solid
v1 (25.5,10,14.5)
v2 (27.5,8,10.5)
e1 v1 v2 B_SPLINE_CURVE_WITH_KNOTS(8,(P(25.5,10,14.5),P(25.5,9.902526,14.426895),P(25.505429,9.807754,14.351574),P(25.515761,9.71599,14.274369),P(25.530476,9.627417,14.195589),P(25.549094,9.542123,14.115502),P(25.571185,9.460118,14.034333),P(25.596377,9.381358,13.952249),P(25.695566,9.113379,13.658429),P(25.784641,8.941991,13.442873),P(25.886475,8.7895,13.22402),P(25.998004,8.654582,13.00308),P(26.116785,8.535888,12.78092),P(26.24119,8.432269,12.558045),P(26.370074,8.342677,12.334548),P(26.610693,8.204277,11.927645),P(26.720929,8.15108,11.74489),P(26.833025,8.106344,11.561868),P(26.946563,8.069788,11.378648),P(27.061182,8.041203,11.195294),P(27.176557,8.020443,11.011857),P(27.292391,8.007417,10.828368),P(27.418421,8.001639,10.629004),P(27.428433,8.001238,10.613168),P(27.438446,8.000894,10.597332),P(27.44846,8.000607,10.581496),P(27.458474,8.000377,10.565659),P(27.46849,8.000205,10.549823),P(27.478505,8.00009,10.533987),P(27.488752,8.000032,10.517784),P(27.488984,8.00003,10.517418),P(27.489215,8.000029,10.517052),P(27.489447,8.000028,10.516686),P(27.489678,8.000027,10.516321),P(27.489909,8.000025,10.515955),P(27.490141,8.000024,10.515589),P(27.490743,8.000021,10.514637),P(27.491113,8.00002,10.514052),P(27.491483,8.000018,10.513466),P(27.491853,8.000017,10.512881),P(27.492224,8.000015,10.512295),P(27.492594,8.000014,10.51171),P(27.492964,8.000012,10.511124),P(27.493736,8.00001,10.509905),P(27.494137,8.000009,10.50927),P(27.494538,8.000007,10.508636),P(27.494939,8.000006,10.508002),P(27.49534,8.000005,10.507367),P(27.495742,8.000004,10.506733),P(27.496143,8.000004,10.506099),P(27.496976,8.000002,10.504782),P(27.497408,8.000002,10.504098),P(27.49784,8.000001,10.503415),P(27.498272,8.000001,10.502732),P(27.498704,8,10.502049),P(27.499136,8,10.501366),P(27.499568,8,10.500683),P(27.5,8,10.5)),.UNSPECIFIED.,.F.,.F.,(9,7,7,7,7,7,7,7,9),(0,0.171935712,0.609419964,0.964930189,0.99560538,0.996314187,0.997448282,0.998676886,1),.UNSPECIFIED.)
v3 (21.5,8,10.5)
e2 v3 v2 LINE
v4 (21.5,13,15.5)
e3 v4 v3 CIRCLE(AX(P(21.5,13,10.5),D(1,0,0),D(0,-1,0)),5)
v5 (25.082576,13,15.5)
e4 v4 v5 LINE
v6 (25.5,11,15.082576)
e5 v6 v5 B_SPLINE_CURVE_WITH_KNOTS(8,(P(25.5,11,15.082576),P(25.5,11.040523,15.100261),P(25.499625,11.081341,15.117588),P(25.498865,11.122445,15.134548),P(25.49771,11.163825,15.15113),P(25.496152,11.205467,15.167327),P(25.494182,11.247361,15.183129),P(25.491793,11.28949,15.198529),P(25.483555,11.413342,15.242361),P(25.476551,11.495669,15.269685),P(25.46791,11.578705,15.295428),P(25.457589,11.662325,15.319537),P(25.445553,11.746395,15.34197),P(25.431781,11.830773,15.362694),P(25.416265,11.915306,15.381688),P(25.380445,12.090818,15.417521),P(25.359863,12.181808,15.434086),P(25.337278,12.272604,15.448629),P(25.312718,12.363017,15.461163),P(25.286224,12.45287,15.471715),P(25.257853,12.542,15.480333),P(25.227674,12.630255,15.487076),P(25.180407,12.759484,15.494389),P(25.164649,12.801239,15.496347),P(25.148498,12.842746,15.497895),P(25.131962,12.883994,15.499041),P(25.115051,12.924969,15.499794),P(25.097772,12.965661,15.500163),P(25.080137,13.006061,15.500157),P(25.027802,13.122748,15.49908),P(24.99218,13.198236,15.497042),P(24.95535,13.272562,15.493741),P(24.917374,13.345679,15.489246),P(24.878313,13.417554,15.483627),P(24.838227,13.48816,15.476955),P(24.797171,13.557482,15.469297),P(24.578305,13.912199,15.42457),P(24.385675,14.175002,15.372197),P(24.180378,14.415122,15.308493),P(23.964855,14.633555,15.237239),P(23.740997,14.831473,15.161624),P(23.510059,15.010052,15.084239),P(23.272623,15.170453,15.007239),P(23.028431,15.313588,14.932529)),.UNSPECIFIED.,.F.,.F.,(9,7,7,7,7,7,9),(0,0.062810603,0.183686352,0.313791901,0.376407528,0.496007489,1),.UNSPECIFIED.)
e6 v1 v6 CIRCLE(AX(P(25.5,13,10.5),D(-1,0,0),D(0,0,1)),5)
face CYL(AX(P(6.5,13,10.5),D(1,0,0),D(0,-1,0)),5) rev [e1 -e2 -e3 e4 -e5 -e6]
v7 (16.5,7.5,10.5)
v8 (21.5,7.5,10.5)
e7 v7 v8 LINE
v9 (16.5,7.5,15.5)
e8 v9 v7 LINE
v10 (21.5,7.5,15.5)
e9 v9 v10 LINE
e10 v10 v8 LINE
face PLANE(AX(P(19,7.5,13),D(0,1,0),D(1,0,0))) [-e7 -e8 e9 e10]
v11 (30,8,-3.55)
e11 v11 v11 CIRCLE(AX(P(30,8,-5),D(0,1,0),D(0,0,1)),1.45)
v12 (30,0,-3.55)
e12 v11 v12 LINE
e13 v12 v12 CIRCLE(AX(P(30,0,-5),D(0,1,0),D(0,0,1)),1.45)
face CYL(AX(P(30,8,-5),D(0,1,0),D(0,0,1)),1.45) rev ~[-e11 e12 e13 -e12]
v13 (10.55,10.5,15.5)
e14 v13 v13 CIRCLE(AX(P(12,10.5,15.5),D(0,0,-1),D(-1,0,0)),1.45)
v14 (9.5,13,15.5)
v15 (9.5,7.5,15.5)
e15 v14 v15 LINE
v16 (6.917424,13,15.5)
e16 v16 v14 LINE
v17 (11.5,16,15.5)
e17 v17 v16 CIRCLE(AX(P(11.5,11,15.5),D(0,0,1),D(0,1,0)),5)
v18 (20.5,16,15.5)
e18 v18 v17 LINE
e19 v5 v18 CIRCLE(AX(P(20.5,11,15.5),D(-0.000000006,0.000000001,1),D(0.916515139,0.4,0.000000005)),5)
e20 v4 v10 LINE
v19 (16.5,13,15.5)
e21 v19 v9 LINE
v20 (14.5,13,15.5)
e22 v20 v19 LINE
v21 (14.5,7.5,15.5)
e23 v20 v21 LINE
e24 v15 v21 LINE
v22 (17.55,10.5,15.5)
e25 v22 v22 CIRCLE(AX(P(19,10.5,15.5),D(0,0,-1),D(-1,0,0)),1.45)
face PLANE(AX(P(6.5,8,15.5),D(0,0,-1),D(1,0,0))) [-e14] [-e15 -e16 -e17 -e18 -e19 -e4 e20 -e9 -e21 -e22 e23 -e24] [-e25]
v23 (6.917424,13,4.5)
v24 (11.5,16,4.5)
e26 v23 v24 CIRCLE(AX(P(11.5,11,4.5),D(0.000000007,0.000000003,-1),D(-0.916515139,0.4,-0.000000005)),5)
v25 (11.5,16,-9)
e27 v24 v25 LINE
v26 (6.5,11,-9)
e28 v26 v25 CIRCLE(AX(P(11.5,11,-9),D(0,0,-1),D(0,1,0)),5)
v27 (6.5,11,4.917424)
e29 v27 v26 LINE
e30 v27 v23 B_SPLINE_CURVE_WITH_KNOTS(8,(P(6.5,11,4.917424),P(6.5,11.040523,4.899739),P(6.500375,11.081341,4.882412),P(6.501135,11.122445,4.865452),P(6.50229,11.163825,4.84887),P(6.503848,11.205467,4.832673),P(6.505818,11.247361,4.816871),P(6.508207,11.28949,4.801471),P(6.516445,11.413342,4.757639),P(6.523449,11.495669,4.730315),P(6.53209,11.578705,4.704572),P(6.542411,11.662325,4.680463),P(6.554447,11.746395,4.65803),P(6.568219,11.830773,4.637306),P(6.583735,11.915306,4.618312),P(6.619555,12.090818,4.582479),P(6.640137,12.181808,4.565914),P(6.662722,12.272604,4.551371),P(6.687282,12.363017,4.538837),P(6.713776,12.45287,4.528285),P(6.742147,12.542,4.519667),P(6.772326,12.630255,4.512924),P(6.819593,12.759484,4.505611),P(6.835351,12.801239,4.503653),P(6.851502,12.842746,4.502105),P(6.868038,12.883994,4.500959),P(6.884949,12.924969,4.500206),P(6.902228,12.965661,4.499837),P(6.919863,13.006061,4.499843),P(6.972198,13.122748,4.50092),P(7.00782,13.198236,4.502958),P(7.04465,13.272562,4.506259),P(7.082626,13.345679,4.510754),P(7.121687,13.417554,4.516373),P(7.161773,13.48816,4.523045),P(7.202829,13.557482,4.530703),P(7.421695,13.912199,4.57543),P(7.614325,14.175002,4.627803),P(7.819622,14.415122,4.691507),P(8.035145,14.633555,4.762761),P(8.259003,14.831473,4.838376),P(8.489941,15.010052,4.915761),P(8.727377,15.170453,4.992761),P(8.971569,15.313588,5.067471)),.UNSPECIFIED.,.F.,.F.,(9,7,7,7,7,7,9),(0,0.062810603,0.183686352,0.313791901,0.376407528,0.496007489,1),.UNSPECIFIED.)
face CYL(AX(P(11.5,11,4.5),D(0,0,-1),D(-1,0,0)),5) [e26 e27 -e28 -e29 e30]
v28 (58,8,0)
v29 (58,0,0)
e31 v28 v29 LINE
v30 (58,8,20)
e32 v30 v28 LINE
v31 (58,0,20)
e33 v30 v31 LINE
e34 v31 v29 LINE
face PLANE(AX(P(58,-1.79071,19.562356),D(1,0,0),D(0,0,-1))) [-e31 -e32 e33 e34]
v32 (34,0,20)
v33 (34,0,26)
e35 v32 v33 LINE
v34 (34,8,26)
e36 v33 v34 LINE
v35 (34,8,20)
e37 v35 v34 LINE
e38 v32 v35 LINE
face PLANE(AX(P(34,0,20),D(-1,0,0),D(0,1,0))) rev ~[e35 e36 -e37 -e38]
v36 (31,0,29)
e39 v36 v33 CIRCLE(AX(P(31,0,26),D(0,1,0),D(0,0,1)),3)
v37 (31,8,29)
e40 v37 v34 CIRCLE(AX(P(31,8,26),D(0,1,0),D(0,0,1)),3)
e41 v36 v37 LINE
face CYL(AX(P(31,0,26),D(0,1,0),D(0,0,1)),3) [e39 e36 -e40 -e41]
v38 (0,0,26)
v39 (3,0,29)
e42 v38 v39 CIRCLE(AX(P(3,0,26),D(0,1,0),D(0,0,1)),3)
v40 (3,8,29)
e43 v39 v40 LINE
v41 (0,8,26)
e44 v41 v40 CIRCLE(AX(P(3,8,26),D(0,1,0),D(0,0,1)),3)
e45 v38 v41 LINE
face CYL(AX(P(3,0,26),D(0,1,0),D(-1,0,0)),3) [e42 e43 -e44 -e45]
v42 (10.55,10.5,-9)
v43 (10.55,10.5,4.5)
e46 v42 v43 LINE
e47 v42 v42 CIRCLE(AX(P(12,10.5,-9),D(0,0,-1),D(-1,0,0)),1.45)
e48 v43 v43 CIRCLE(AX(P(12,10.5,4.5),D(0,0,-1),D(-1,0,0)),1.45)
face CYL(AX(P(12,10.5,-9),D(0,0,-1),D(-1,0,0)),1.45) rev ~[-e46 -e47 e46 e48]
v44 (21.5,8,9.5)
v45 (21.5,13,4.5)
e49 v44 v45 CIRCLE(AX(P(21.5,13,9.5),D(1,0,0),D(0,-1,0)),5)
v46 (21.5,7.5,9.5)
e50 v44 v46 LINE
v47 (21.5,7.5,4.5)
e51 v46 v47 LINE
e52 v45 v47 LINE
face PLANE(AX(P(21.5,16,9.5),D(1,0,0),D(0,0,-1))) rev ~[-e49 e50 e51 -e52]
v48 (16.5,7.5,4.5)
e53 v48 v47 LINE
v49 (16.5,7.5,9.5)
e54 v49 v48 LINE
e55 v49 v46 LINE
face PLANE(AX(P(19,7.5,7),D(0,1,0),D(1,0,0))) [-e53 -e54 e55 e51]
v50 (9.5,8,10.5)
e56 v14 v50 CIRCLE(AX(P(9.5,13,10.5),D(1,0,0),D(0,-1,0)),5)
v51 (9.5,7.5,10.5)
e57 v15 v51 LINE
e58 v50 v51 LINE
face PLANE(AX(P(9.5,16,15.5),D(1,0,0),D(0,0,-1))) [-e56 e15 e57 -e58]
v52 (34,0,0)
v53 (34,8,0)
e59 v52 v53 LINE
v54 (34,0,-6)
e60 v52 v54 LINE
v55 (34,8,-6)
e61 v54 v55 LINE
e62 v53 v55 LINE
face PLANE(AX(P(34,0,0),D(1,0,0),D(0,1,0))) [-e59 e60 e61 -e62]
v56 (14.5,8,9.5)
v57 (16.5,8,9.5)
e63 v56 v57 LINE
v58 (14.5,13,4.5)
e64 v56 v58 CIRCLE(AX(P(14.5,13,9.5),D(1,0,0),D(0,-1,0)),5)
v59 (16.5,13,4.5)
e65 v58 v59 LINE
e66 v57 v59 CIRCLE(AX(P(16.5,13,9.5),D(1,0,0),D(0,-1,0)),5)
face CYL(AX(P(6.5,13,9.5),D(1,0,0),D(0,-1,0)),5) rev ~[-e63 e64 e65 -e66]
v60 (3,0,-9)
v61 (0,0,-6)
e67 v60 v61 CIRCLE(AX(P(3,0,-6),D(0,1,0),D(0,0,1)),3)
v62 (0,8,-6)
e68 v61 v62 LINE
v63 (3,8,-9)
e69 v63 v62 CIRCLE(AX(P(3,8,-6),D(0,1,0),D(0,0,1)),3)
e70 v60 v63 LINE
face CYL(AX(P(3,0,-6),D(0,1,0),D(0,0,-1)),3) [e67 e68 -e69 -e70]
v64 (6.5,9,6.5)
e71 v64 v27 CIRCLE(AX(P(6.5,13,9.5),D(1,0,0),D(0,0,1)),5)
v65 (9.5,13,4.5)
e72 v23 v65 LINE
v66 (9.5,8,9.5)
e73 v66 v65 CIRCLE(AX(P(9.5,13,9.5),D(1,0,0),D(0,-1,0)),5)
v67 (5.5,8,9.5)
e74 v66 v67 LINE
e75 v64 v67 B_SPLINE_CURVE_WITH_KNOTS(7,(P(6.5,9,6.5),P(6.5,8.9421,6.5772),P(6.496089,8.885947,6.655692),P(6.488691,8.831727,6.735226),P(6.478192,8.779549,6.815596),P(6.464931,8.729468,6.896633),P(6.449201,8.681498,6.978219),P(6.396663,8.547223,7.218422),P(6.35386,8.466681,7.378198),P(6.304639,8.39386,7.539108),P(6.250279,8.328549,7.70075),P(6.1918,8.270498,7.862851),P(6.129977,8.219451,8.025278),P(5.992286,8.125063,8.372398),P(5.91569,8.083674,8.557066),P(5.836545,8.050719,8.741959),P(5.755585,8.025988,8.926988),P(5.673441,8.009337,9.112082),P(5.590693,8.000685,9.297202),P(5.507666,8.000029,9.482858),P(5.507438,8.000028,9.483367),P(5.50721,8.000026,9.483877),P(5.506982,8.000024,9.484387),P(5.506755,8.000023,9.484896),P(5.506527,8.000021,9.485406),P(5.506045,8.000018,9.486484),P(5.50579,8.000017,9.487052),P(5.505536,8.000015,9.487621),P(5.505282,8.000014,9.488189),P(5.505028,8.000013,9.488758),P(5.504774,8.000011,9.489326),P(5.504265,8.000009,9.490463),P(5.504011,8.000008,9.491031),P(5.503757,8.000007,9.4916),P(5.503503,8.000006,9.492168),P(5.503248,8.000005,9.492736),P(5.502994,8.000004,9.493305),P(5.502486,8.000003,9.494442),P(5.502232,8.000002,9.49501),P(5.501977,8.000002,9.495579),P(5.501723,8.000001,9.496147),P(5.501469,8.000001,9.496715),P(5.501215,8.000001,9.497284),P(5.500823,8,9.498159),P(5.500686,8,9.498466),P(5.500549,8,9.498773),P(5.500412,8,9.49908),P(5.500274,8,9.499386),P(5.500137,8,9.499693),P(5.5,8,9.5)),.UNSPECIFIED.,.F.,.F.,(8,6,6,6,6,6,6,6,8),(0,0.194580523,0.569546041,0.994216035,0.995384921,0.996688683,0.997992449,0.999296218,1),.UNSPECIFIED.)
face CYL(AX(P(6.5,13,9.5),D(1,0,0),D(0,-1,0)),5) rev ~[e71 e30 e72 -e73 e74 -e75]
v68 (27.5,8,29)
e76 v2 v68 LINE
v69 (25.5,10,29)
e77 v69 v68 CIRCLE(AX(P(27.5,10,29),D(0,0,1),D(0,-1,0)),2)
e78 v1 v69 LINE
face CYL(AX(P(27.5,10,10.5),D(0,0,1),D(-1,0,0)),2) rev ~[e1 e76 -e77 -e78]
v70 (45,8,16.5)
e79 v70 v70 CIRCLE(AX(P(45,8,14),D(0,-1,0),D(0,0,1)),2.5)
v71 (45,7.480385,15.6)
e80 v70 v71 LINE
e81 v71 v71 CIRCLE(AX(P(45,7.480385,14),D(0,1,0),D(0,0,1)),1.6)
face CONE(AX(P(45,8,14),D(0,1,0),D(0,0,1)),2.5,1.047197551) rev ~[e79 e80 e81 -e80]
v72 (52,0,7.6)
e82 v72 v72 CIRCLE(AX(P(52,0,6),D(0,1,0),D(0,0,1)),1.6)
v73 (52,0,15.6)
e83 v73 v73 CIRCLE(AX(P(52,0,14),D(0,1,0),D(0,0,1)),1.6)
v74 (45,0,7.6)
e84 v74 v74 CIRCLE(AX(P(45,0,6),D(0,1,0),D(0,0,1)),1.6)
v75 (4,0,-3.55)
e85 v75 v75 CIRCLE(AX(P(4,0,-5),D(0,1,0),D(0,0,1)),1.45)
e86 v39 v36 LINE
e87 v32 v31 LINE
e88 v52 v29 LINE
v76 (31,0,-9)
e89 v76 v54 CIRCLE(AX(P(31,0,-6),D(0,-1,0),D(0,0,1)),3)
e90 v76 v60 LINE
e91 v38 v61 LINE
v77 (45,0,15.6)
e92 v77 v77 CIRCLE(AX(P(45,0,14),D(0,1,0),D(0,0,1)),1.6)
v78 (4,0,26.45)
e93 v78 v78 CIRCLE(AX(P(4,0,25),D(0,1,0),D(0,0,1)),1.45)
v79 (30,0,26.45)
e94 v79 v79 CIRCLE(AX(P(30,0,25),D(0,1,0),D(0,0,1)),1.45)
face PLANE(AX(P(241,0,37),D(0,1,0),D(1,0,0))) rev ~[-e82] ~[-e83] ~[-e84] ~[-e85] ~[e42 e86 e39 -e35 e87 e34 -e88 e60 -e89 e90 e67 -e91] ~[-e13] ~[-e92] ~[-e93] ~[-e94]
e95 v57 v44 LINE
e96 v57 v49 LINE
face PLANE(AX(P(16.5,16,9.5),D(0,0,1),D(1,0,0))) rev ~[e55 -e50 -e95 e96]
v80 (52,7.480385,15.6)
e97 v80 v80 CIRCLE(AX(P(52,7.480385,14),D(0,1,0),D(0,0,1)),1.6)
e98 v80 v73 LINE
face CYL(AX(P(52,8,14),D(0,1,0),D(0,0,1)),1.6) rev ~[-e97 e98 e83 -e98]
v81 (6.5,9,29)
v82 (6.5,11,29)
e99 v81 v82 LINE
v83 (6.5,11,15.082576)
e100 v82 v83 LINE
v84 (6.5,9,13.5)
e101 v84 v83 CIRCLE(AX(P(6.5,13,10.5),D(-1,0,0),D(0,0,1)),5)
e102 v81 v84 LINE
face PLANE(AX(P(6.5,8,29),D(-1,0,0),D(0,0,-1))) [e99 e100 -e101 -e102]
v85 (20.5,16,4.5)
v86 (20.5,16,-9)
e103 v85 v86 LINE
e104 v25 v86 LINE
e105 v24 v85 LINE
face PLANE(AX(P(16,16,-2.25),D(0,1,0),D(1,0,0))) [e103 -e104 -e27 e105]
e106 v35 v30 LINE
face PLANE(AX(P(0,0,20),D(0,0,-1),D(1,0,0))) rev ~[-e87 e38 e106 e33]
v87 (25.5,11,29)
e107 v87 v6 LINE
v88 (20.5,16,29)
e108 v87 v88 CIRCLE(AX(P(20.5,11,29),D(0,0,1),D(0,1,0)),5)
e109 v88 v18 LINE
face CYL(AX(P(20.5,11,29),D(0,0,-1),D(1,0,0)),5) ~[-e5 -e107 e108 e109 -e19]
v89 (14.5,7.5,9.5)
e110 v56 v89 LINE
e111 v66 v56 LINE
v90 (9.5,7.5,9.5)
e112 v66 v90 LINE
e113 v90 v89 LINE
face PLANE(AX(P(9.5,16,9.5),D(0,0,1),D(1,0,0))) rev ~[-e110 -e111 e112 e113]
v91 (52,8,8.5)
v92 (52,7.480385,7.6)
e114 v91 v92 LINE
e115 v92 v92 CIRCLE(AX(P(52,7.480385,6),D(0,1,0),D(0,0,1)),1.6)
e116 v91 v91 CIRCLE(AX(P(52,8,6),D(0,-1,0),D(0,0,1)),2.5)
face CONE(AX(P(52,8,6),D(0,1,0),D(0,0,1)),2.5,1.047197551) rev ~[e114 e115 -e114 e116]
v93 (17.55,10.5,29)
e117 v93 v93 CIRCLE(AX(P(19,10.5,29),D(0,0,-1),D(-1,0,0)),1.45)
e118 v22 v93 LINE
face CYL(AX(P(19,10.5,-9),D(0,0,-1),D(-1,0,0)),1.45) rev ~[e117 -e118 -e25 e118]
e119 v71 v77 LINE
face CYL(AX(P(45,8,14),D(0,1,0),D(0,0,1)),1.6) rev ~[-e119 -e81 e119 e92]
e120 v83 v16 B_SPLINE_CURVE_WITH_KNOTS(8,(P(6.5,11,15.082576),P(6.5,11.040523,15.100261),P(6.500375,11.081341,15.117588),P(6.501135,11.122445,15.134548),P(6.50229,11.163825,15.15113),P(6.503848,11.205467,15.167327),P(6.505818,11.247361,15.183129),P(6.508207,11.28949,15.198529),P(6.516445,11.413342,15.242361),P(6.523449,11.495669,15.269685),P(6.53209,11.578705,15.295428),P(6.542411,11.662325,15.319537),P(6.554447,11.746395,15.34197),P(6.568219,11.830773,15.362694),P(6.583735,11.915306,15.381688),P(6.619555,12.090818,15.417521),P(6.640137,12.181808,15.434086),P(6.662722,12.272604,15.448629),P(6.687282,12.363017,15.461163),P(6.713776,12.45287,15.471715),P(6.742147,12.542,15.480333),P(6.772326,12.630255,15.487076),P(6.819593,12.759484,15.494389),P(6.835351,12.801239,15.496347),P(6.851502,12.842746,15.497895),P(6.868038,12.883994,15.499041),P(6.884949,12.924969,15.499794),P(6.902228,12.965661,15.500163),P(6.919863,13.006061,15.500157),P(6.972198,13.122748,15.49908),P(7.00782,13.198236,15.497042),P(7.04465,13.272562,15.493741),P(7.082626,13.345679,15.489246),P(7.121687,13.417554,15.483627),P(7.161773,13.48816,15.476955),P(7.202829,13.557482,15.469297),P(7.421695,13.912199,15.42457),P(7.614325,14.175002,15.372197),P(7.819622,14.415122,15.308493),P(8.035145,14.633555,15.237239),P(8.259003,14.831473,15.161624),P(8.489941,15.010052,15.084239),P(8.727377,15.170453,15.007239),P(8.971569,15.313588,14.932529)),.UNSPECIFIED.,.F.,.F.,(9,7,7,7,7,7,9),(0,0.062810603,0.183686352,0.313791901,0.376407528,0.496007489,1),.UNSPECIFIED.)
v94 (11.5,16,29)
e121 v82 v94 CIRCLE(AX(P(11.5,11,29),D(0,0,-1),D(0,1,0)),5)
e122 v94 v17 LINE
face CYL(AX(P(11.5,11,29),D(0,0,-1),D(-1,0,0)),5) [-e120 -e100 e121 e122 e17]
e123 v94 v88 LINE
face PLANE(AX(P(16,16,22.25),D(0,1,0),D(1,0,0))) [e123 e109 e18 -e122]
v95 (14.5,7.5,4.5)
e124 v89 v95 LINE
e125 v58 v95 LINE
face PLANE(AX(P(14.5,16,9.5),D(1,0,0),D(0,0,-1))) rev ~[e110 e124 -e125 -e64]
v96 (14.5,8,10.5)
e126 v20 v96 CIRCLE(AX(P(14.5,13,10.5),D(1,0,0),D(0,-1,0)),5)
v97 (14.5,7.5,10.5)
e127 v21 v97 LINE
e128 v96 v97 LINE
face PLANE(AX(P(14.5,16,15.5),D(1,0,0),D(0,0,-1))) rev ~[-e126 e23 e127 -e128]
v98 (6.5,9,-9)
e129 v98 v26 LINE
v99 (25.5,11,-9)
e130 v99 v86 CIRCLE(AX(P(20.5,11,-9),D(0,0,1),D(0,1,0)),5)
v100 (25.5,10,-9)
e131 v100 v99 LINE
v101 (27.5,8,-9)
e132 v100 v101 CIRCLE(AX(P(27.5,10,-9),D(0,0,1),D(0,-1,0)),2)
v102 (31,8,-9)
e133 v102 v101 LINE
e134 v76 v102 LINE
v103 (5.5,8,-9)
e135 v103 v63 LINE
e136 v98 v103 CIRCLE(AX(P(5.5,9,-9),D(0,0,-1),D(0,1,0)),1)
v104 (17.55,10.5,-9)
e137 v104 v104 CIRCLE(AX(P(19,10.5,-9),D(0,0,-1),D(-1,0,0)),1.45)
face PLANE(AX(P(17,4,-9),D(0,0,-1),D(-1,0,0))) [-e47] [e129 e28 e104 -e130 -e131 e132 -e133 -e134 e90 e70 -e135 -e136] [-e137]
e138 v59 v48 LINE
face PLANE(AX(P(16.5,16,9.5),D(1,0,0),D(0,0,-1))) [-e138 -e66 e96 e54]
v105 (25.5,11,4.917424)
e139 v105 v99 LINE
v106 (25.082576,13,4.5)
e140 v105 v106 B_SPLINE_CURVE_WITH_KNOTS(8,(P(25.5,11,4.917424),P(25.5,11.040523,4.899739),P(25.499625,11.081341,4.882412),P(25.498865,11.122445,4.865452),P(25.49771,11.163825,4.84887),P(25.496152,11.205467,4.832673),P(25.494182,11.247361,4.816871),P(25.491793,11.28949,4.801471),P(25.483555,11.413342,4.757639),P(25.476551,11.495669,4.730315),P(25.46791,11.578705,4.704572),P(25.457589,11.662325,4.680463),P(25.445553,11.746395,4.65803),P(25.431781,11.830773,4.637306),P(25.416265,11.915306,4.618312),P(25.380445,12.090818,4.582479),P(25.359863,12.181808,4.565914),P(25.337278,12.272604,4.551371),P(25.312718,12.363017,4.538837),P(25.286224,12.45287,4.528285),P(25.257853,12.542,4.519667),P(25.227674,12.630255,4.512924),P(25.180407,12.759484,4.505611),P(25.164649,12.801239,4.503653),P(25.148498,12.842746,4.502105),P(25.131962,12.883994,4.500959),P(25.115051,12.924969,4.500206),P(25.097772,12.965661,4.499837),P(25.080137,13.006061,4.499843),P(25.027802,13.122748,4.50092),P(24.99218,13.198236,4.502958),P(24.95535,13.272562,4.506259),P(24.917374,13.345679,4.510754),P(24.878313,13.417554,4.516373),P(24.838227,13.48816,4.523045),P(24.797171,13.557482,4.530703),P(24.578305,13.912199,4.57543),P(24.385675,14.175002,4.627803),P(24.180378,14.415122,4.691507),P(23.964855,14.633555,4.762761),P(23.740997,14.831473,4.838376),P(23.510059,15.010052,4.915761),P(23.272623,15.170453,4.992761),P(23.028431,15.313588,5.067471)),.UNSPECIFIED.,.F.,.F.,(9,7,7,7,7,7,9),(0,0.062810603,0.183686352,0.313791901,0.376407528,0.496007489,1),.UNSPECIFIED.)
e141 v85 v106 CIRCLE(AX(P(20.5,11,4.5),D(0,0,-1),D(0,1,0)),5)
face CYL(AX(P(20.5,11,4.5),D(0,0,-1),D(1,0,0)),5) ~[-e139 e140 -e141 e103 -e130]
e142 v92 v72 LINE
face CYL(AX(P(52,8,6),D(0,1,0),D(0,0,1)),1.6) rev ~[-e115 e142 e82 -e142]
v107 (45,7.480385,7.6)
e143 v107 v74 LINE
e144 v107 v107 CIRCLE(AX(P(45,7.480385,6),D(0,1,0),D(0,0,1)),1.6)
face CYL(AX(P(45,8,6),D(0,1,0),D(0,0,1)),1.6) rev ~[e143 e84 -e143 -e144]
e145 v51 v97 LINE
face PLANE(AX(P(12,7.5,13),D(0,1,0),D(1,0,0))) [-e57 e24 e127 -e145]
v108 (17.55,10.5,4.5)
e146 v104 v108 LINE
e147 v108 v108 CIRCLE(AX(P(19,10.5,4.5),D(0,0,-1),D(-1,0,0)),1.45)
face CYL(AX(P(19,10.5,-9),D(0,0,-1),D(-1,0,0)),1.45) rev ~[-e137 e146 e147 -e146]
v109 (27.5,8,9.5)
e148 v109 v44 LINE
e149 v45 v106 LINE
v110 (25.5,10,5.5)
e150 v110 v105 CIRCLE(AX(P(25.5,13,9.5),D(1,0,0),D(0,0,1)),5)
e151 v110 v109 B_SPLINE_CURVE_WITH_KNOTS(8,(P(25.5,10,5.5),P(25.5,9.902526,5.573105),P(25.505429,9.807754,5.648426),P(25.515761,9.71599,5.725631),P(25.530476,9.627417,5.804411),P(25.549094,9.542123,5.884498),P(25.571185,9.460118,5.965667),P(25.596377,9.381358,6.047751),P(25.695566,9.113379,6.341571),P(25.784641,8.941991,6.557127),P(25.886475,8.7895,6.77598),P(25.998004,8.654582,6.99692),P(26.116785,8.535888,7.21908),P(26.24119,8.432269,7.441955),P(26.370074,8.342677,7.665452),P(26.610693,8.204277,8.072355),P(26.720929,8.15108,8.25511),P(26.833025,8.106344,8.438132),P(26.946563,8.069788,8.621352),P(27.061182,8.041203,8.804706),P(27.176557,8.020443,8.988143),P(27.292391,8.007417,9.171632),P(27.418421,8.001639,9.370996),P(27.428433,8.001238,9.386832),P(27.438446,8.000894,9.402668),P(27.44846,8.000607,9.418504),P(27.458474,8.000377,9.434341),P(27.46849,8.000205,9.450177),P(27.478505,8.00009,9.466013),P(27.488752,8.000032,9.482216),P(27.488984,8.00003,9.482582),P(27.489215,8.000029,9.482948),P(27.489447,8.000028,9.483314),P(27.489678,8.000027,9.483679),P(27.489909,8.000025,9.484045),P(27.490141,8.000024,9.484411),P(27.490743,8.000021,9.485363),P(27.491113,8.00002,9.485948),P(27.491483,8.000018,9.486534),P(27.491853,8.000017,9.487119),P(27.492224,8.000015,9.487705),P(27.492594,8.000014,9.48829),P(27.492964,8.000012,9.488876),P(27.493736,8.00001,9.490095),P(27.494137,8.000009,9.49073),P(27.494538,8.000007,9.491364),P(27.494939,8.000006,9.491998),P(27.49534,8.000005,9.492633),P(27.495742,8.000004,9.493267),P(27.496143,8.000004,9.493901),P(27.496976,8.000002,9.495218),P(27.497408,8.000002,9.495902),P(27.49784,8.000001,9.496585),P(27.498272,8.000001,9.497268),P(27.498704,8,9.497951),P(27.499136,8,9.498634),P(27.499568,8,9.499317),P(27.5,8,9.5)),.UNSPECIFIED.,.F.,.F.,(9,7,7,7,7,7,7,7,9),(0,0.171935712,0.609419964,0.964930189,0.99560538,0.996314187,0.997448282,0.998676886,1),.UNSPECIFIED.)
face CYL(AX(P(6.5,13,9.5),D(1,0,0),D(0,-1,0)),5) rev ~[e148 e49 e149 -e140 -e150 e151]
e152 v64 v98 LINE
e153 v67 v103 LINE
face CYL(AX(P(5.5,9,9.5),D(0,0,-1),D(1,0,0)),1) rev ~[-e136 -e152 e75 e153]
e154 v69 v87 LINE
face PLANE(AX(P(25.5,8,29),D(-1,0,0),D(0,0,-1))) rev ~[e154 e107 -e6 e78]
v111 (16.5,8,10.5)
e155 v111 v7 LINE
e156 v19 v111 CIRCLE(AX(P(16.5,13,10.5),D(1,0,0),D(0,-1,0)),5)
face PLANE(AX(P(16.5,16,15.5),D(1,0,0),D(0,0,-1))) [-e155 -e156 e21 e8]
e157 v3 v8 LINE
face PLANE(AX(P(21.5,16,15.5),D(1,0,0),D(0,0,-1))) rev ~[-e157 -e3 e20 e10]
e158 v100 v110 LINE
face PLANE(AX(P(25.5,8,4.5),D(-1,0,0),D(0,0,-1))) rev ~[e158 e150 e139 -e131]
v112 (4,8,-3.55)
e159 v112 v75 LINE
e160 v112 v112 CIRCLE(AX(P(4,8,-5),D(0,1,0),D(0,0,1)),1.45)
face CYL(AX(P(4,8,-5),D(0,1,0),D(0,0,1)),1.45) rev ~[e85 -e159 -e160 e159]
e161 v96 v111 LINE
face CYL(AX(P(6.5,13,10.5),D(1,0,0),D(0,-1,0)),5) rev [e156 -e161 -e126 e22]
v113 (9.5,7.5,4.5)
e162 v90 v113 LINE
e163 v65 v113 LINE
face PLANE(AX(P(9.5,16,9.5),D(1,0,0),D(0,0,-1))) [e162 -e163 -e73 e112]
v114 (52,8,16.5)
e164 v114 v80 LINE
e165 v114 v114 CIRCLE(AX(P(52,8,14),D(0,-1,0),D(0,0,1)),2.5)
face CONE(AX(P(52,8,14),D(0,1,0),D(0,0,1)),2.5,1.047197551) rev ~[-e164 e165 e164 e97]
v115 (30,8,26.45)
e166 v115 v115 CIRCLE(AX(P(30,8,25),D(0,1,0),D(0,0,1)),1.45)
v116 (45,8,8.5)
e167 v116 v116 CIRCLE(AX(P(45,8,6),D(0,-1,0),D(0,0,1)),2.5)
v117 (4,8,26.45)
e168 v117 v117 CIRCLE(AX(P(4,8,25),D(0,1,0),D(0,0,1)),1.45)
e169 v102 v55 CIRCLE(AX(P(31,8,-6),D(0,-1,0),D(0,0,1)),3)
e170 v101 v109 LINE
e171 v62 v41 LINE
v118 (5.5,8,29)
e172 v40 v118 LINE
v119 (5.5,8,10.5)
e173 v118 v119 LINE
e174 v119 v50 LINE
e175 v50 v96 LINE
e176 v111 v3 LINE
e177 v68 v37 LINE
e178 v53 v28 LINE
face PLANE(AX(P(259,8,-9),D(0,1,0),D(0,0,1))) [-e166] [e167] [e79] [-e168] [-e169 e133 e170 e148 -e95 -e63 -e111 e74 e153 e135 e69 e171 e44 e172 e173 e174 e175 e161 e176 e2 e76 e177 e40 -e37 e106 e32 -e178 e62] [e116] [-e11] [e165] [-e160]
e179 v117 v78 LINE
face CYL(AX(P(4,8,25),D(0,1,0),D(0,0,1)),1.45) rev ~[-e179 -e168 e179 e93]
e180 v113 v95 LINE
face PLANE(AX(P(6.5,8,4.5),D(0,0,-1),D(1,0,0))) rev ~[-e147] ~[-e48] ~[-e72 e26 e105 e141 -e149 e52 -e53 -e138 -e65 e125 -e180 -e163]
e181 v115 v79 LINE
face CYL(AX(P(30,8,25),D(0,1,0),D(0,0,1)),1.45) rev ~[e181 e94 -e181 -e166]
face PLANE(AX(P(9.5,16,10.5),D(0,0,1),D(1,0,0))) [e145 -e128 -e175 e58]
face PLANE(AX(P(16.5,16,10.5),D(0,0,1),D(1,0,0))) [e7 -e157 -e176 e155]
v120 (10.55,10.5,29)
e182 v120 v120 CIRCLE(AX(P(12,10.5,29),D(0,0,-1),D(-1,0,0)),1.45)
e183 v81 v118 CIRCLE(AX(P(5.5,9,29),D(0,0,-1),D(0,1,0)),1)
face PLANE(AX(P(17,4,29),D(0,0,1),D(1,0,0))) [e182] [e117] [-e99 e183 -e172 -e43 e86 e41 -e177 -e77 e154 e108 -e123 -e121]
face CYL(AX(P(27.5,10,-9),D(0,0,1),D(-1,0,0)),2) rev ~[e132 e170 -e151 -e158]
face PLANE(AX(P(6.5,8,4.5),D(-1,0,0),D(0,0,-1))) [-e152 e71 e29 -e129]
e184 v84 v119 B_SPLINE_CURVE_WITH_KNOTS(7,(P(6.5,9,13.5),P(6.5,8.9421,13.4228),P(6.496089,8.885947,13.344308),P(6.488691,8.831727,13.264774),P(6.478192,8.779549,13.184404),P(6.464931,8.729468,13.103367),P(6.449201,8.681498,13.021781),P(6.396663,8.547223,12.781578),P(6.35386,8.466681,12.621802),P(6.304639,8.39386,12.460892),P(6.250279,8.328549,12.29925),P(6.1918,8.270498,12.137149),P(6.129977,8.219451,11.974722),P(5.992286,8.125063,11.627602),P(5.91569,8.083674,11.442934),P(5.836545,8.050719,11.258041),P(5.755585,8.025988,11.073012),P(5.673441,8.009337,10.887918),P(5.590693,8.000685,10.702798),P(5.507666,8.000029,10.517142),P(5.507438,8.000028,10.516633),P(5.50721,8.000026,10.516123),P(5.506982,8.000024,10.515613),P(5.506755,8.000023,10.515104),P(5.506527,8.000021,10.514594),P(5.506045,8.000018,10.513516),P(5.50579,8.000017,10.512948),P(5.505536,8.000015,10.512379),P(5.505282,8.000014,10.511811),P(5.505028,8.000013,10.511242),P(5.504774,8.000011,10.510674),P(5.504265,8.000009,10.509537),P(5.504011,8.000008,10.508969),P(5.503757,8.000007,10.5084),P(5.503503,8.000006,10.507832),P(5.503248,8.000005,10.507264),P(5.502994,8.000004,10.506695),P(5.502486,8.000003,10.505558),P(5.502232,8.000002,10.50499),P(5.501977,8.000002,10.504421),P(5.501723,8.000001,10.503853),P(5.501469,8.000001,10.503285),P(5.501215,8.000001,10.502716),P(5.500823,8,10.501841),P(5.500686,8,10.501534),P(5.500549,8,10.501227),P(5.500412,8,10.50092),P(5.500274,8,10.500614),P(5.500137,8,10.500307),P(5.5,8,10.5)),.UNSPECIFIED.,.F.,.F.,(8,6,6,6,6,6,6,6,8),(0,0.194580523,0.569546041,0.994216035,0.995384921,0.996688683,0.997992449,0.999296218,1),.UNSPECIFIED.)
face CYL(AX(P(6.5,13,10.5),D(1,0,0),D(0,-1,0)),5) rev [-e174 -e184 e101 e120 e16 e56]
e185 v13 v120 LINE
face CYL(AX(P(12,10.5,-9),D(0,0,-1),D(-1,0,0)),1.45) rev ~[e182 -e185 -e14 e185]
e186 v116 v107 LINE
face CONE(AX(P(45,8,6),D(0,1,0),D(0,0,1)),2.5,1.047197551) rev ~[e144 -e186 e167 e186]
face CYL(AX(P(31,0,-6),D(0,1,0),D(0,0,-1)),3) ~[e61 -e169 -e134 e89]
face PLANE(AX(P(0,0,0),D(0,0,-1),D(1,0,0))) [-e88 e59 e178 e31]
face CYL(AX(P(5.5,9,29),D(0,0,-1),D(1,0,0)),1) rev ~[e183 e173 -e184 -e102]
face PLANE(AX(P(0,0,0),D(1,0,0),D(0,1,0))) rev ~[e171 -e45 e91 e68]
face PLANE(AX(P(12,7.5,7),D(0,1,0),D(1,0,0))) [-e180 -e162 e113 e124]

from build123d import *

# Parameters (mm, degrees)
SKETCH1_W                 = 300
SKETCH1_H                 = 20
BOSS_EXTRUDE1_DEPTH       = 8
SKETCH2_W                 = 34
SKETCH2_H                 = 8
BOSS_EXTRUDE2_DEPTH       = 9
SKETCH3_W                 = 34
SKETCH3_H                 = 8
BOSS_EXTRUDE3_DEPTH       = 9
SKETCH4_R                 = 1.45
CUT_EXTRUDE1_DEPTH        = 302.504560496
SKETCH5_W                 = 25
SKETCH5_H                 = 8
BOSS_EXTRUDE4_DEPTH       = 17
SKETCH6_W                 = 25
SKETCH6_H                 = 8
BOSS_EXTRUDE5_DEPTH       = 17
SKETCH12_W                = 8
SKETCH12_H                = 8
BOSS_EXTRUDE7_DEPTH       = 17
BOSS_EXTRUDE8_DEPTH       = 12
SKETCH15_R                = 1.6
CUT_EXTRUDE7_DEPTH        = 20
SKETCH16_W                = 20
SKETCH16_H                = 13
BOSS_EXTRUDE9_DEPTH       = 12
SKETCH17_R                = 1.6
CUT_EXTRUDE8_DEPTH        = 20
SKETCH22_W                = 10
SKETCH22_H                = 38
CUT_EXTRUDE11_DEPTH       = 306.0983448
SKETCH23_W                = 8
SKETCH23_H                = 18
CUT_EXTRUDE12_DEPTH       = 4
BOSS_EXTRUDE12_DEPTH      = 10
BOSS_EXTRUDE13_DEPTH      = 8
SKETCH26_W                = 8
SKETCH26_H                = 48
BOSS_EXTRUDE14_DEPTH      = 14
SKETCH27_W                = 8
SKETCH27_H                = 16
BOSS_EXTRUDE15_DEPTH      = 14
SKETCH28_W                = 8
SKETCH28_H                = 40
CUT_EXTRUDE13_DEPTH       = 14
SKETCH30_W                = 16
SKETCH30_H                = 14
BOSS_EXTRUDE16_DEPTH      = 9
SKETCH31_W                = 17
SKETCH31_H                = 8
CUT_EXTRUDE14_DEPTH       = 5
SKETCH32_W                = 16
SKETCH32_H                = 9
CUT_EXTRUDE15_DEPTH       = 9
CUT_EXTRUDE16_DEPTH       = 10
SKETCH34_W                = 7
SKETCH34_H                = 5
CUT_EXTRUDE17_DEPTH       = 5
SKETCH35_W                = 7
SKETCH35_H                = 5
BOSS_EXTRUDE17_DEPTH      = 5
SKETCH36_R                = 1.7
CUT_EXTRUDE18_DEPTH       = 307.014705529
SKETCH37_W                = 70
SKETCH37_H                = 8
BOSS_EXTRUDE18_DEPTH      = 5
SKETCH39_W                = 66
SKETCH39_H                = 6
CUT_EXTRUDE19_DEPTH       = 306.14258962
SKETCH46_W                = 20
SKETCH46_H                = 12
SKETCH46_W_2              = 19.974984355
BOSS_EXTRUDE23_DEPTH      = 10
BOSS_EXTRUDE24_DEPTH      = 5
BOSS_EXTRUDE24_DEPTH_BACK = 5
SKETCH47_W                = 28
SKETCH47_H                = 12
SKETCH47_W_2              = 28.025015645
SKETCH48_R                = 1.5
CUT_EXTRUDE22_DEPTH       = 15
SKETCH49_R                = 1.45
CUT_EXTRUDE23_DEPTH       = 309.139578763
SKETCH50_W                = 96.54170444
SKETCH50_H                = 99.159492098
CUT_EXTRUDE24_DEPTH       = 245
SKETCH51_R                = 1.6
CUT_EXTRUDE25_DEPTH       = 66.337584896
SKETCH52_W                = 19
SKETCH52_H                = 13.5
BOSS_EXTRUDE25_DEPTH      = 8
FILLET1_R                 = 5
SKETCH53_R                = 1.45
CUT_EXTRUDE26_DEPTH       = 72.161787499
FILLET2_R                 = 5
FILLET3_R                 = 3
SKETCH54_W                = 5
SKETCH54_H                = 5
CUT_EXTRUDE27_DEPTH       = 8.5
FILLET4_R                 = 1
FILLET5_R                 = 2


with BuildPart() as part:
    # Sketch1 → Boss-Extrude1 (new body)
    with BuildSketch(Plane(origin=(0, 0, 0), x_dir=(1, 0, 0), z_dir=(0, 1, 0))):
        with Locations((150, -10)):
            Rectangle(SKETCH1_W, SKETCH1_H)
    extrude(amount=BOSS_EXTRUDE1_DEPTH)

    # Sketch2 → Boss-Extrude2 (add)
    with BuildSketch(Plane.XY.offset(20)):
        with Locations((17, 4)):
            Rectangle(SKETCH2_W, SKETCH2_H)
        with Locations((283, 4)):
            Rectangle(SKETCH2_W, SKETCH2_H)
    extrude(amount=BOSS_EXTRUDE2_DEPTH)

    # Sketch3 → Boss-Extrude3 (add)
    with BuildSketch(Plane(origin=(0, 0, 0), x_dir=(-1, 0, 0), z_dir=(0, 0, -1))):
        with Locations((-17, 4)):
            Rectangle(SKETCH3_W, SKETCH3_H)
        with Locations((-283, 4)):
            Rectangle(SKETCH3_W, SKETCH3_H)
    extrude(amount=BOSS_EXTRUDE3_DEPTH)

    # Sketch4 → Cut-Extrude1 (cut, through all)
    with BuildSketch(Plane(origin=(0, 8, 0), x_dir=(1, 0, 0), z_dir=(0, 1, 0))):
        with Locations(Location((4, 5, 0), (0, 0, 270))):
            Circle(SKETCH4_R)
        with Locations(Location((30, 5, 0), (0, 0, 270))):
            Circle(SKETCH4_R)
        with Locations(Location((30, -25, 0), (0, 0, 270))):
            Circle(SKETCH4_R)
        with Locations(Location((4, -25, 0), (0, 0, 270))):
            Circle(SKETCH4_R)
        with Locations(Location((296, -25, 0), (0, 0, 270))):
            Circle(SKETCH4_R)
        with Locations(Location((296, 5, 0), (0, 0, 270))):
            Circle(SKETCH4_R)
        with Locations(Location((270, -25, 0), (0, 0, 270))):
            Circle(SKETCH4_R)
        with Locations(Location((270, 5, 0), (0, 0, 270))):
            Circle(SKETCH4_R)
    extrude(amount=-CUT_EXTRUDE1_DEPTH, mode=Mode.SUBTRACT)

    # Sketch5 → Boss-Extrude4 (add)
    with BuildSketch(Plane.XY.offset(20)):
        with Locations((253.5, 4)):
            Rectangle(SKETCH5_W, SKETCH5_H)
    extrude(amount=BOSS_EXTRUDE4_DEPTH)

    # Sketch6 → Boss-Extrude5 (add)
    with BuildSketch(Plane(origin=(0, 0, 0), x_dir=(-1, 0, 0), z_dir=(0, 0, -1))):
        with Locations((-253.5, 4)):
            Rectangle(SKETCH6_W, SKETCH6_H)
    extrude(amount=BOSS_EXTRUDE5_DEPTH)

    # Sketch12 → Boss-Extrude7 (add)
    with BuildSketch(Plane.XY.offset(37)):
        with Locations((245, 4)):
            Rectangle(SKETCH12_W, SKETCH12_H)
    extrude(amount=BOSS_EXTRUDE7_DEPTH)

    # Sketch14 → Boss-Extrude8 (add)
    with BuildSketch(Plane.XY.offset(29)):
        Polygon((294.974984355, 8), (275, 8), (275, -4), (294.974984355, -5), align=None)
    extrude(amount=BOSS_EXTRUDE8_DEPTH)

    # Sketch15 → Cut-Extrude7 (cut)
    with BuildSketch(Plane(origin=(294.974984355, 0, 0), x_dir=(0, 0, -1), z_dir=(1, 0, 0))):
        with Locations((-35, 0)):
            Circle(SKETCH15_R)
    extrude(amount=-CUT_EXTRUDE7_DEPTH, mode=Mode.SUBTRACT)

    # Sketch16 → Boss-Extrude9 (add)
    with BuildSketch(Plane(origin=(0, 0, -9), x_dir=(-1, 0, 0), z_dir=(0, 0, -1))):
        with Locations((-285, 1.5)):
            Rectangle(SKETCH16_W, SKETCH16_H)
    extrude(amount=BOSS_EXTRUDE9_DEPTH)

    # Sketch17 → Cut-Extrude8 (cut)
    with BuildSketch(Plane(origin=(295, 0, 0), x_dir=(0, 0, -1), z_dir=(1, 0, 0))):
        with Locations((15, 0)):
            Circle(SKETCH17_R)
    extrude(amount=-CUT_EXTRUDE8_DEPTH, mode=Mode.SUBTRACT)

    # Sketch22 → Cut-Extrude11 (cut, through all)
    with BuildSketch(Plane(origin=(0, 8, 0), x_dir=(1, 0, 0), z_dir=(0, 1, 0))):
        with Locations((254, -10)):
            Rectangle(SKETCH22_W, SKETCH22_H)
    extrude(amount=-CUT_EXTRUDE11_DEPTH, mode=Mode.SUBTRACT)

    # Sketch23 → Cut-Extrude12 (cut)
    with BuildSketch(Plane(origin=(0, 0, 0), x_dir=(-1, 0, 0), z_dir=(0, -1, 0))):
        with Locations((-263, -10)):
            Rectangle(SKETCH23_W, SKETCH23_H)
    extrude(amount=-CUT_EXTRUDE12_DEPTH, mode=Mode.SUBTRACT)

    # Sketch24 → Boss-Extrude12 (add)
    with BuildSketch(Plane.ZY.offset(-259)):
        Polygon((-9, 0), (-9, 8), (-1, 8), align=None)
        Polygon((29, 0), (29, 8), (21, 8), align=None)
    extrude(amount=BOSS_EXTRUDE12_DEPTH)

    # Sketch25 → Boss-Extrude13 (add)
    with BuildSketch(Plane.ZY.offset(-267)):
        Polygon((19, 0), (19, 4), (15, 4), align=None)
        Polygon((1, 4), (5, 4), (1, 0), align=None)
    extrude(amount=BOSS_EXTRUDE13_DEPTH)

    # Sketch26 → Boss-Extrude14 (add)
    with BuildSketch(Plane(origin=(0, 8, 0), x_dir=(1, 0, 0), z_dir=(0, 1, 0))):
        with Locations((245, -30)):
            Rectangle(SKETCH26_W, SKETCH26_H)
    extrude(amount=BOSS_EXTRUDE14_DEPTH)

    # Sketch27 → Boss-Extrude15 (add)
    with BuildSketch(Plane(origin=(0, 8, 0), x_dir=(1, 0, 0), z_dir=(0, 1, 0))):
        with Locations((253, -29)):
            Rectangle(SKETCH27_W, SKETCH27_H)
    extrude(amount=BOSS_EXTRUDE15_DEPTH)

    # Sketch28 → Cut-Extrude13 (cut)
    with BuildSketch(Plane.XZ):
        with Locations((245, 34)):
            Rectangle(SKETCH28_W, SKETCH28_H)
    extrude(amount=-CUT_EXTRUDE13_DEPTH, mode=Mode.SUBTRACT)

    # Sketch30 → Boss-Extrude16 (add)
    with BuildSketch(Plane(origin=(257, 0, 0), x_dir=(0, 0, -1), z_dir=(1, 0, 0))):
        with Locations((-29, 15)):
            Rectangle(SKETCH30_W, SKETCH30_H)
    extrude(amount=BOSS_EXTRUDE16_DEPTH)

    # Sketch31 → Cut-Extrude14 (cut)
    with BuildSketch(Plane(origin=(0, 0, 0), x_dir=(-1, 0, 0), z_dir=(0, -1, 0))):
        with Locations((-257.5, -33)):
            Rectangle(SKETCH31_W, SKETCH31_H)
    extrude(amount=-CUT_EXTRUDE14_DEPTH, mode=Mode.SUBTRACT)

    # Sketch32 → Cut-Extrude15 (cut)
    with BuildSketch(Plane(origin=(266, 0, 0), x_dir=(0, 0, -1), z_dir=(1, 0, 0))):
        with Locations((-29, 17.5)):
            Rectangle(SKETCH32_W, SKETCH32_H)
    extrude(amount=-CUT_EXTRUDE15_DEPTH, mode=Mode.SUBTRACT)

    # Sketch33 → Cut-Extrude16 (cut)
    with BuildSketch(Plane.ZY.offset(-249)):
        Polygon((29, 5), (24, 5), (29, 0), align=None)
    extrude(amount=-CUT_EXTRUDE16_DEPTH, mode=Mode.SUBTRACT)

    # Sketch34 → Cut-Extrude17 (cut)
    with BuildSketch(Plane.XY.offset(29)):
        with Locations((262.5, 2.5)):
            Rectangle(SKETCH34_W, SKETCH34_H)
    extrude(amount=-CUT_EXTRUDE17_DEPTH, mode=Mode.SUBTRACT)

    # Sketch35 → Boss-Extrude17 (add)
    with BuildSketch(Plane(origin=(0, 0, 21), x_dir=(-1, 0, 0), z_dir=(0, 0, -1))):
        with Locations((-262.5, 10.5)):
            Rectangle(SKETCH35_W, SKETCH35_H)
    extrude(amount=BOSS_EXTRUDE17_DEPTH)

    # Sketch36 → Cut-Extrude18 (cut, through all)
    with BuildSketch(Plane(origin=(0, 22, 0), x_dir=(1, 0, 0), z_dir=(0, 1, 0))):
        with Locations(Location((245, -50, 0), (0, 0, 270))):
            Circle(SKETCH36_R)
        with Locations(Location((245, -18, 0), (0, 0, 270))):
            Circle(SKETCH36_R)
    extrude(amount=-CUT_EXTRUDE18_DEPTH, mode=Mode.SUBTRACT)

    # Sketch37 → Boss-Extrude18 (add)
    with BuildSketch(Plane(origin=(0, 8, 0), x_dir=(1, 0, 0), z_dir=(0, 1, 0))):
        with Locations((206, -10)):
            Rectangle(SKETCH37_W, SKETCH37_H)
    extrude(amount=BOSS_EXTRUDE18_DEPTH)

    # Sketch39 → Cut-Extrude19 (cut, through all)
    with BuildSketch(Plane(origin=(0, 8, 0), x_dir=(1, 0, 0), z_dir=(0, 1, 0))):
        with Locations((208, -17)):
            Rectangle(SKETCH39_W, SKETCH39_H)
    extrude(amount=-CUT_EXTRUDE19_DEPTH, mode=Mode.SUBTRACT)

    # Sketch46 → Boss-Extrude23 (add)
    with BuildSketch(Plane(origin=(0, 8, 0), x_dir=(1, 0, 0), z_dir=(0, 1, 0))):
        with Locations((285, 15)):
            Rectangle(SKETCH46_W, SKETCH46_H)
        with Locations((284.987492178, -35)):
            Rectangle(SKETCH46_W_2, SKETCH46_H)
    extrude(amount=BOSS_EXTRUDE23_DEPTH)

    # Sketch47 → Boss-Extrude24 (add, two sides: drawn at the far end of the back side and taken through both)
    with BuildSketch(Plane(origin=(0, 18, 0), x_dir=(1, 0, 0), z_dir=(0, 1, 0)).offset(-BOSS_EXTRUDE24_DEPTH_BACK)):
        with Locations((289, 15)):
            Rectangle(SKETCH47_W, SKETCH47_H)
        with Locations((288.987492178, -35)):
            Rectangle(SKETCH47_W_2, SKETCH47_H)
    extrude(amount=BOSS_EXTRUDE24_DEPTH + BOSS_EXTRUDE24_DEPTH_BACK)

    # Sketch48 → Cut-Extrude22 (cut)
    with BuildSketch(Plane(origin=(303, 0, 0), x_dir=(0, 0, -1), z_dir=(1, 0, 0))):
        with Locations((16, 18)):
            Circle(SKETCH48_R)
        with Locations((-36, 18)):
            Circle(SKETCH48_R)
    extrude(amount=-CUT_EXTRUDE22_DEPTH, mode=Mode.SUBTRACT)

    # Sketch49 → Cut-Extrude23 (cut, through all)
    with BuildSketch(Plane(origin=(0, 8, 0), x_dir=(1, 0, 0), z_dir=(0, 1, 0))):
        with Locations(Location((78, -8, 0), (0, 0, 270))):
            Circle(SKETCH49_R)
        with Locations(Location((78, -12, 0), (0, 0, 270))):
            Circle(SKETCH49_R)
    extrude(amount=-CUT_EXTRUDE23_DEPTH, mode=Mode.SUBTRACT)

    # Sketch50 → Cut-Extrude24 (cut)
    with BuildSketch(Plane(origin=(303, 0, 0), x_dir=(0, 0, -1), z_dir=(1, 0, 0))):
        with Locations((-19.562356109, -1.790710069)):
            Rectangle(SKETCH50_W, SKETCH50_H)
    extrude(amount=-CUT_EXTRUDE24_DEPTH, mode=Mode.SUBTRACT)

    # Sketch51 → Cut-Extrude25 (cut, through all)
    with BuildSketch(Plane(origin=(0, 8, 0), x_dir=(1, 0, 0), z_dir=(0, 1, 0))):
        with Locations(Location((52, -14, 0), (0, 0, 270))):
            Circle(SKETCH51_R)
        with Locations(Location((45, -14, 0), (0, 0, 270))):
            Circle(SKETCH51_R)
        with Locations(Location((45, -6, 0), (0, 0, 270))):
            Circle(SKETCH51_R)
        with Locations(Location((52, -6, 0), (0, 0, 270))):
            Circle(SKETCH51_R)
    extrude(amount=-CUT_EXTRUDE25_DEPTH, mode=Mode.SUBTRACT)

    # Sketch52 → Boss-Extrude25 (add)
    with BuildSketch(Plane(origin=(0, 8, 0), x_dir=(1, 0, 0), z_dir=(0, 1, 0))):
        with Locations((16, 2.25)):
            Rectangle(SKETCH52_W, SKETCH52_H)
        with Locations((16, -22.25)):
            Rectangle(SKETCH52_W, SKETCH52_H)
    extrude(amount=BOSS_EXTRUDE25_DEPTH)

    # Fillet1
    fillet1_edges = [part.edges().sort_by_distance(p)[0] for p in [
        (16, 8, 4.5),
        (16, 8, 15.5),
    ]]
    fillet(fillet1_edges, radius=FILLET1_R)

    # Sketch53 → Cut-Extrude26 (cut, through all)
    with BuildSketch(Plane(origin=(0, 0, -9), x_dir=(-1, 0, 0), z_dir=(0, 0, -1))):
        with Locations((-19, 10.5)):
            Circle(SKETCH53_R)
        with Locations((-12, 10.5)):
            Circle(SKETCH53_R)
    extrude(amount=-CUT_EXTRUDE26_DEPTH, mode=Mode.SUBTRACT)

    # Fillet2
    fillet2_edges = [part.edges().sort_by_distance(p)[0] for p in [
        (25.5, 16, 22.25),
        (6.5, 16, 22.25),
        (6.5, 16, -2.25),
        (25.5, 16, -2.25),
    ]]
    fillet(fillet2_edges, radius=FILLET2_R)

    # Fillet3
    fillet3_edges = [part.edges().sort_by_distance(p)[0] for p in [
        (0, 4, 29),
        (34, 4, 29),
        (0, 4, -9),
        (34, 4, -9),
    ]]
    fillet(fillet3_edges, radius=FILLET3_R)

    # Sketch54 → Cut-Extrude27 (cut)
    with BuildSketch(Plane(origin=(0, 16, 0), x_dir=(1, 0, 0), z_dir=(0, 1, 0))):
        with Locations((19, -7)):
            Rectangle(SKETCH54_W, SKETCH54_H)
        with Locations((12, -7)):
            Rectangle(SKETCH54_W, SKETCH54_H)
        with Locations((19, -13)):
            Rectangle(SKETCH54_W, SKETCH54_H)
        with Locations((12, -13)):
            Rectangle(SKETCH54_W, SKETCH54_H)
    extrude(amount=-CUT_EXTRUDE27_DEPTH, mode=Mode.SUBTRACT)

    # Fillet4
    fillet4_edges = [part.edges().sort_by_distance(p)[0] for p in [
        (6.5, 8, 0.25),
        (6.5, 8, 19.75),
    ]]
    fillet(fillet4_edges, radius=FILLET4_R)

    # Fillet5
    fillet5_edges = [part.edges().sort_by_distance(p)[0] for p in [
        (25.5, 8, 0.25),
        (25.5, 8, 19.75),
    ]]
    fillet(fillet5_edges, radius=FILLET5_R)

    # Cut-Extrude28 cone 1 section (through the dimple's axis) → Cut-Extrude28 (revolve, cut)
    with BuildSketch(Plane(origin=(45, 8, 6), x_dir=(0, 0, 1), z_dir=(1, 0, 0))):
        Polygon((0, 0), (2.5, 0), (0, 1.443375673), align=None)
    revolve(axis=Axis((45, 8, 6), (0, -1, 0)), mode=Mode.SUBTRACT)

    # Cut-Extrude28 cone 2 section (through the dimple's axis) → Cut-Extrude28 cone 2 (revolve, cut)
    with BuildSketch(Plane(origin=(52, 8, 6), x_dir=(0, 0, 1), z_dir=(1, 0, 0))):
        Polygon((0, 0), (2.5, 0), (0, 1.443375673), align=None)
    revolve(axis=Axis((52, 8, 6), (0, -1, 0)), mode=Mode.SUBTRACT)

    # Cut-Extrude28 cone 3 section (through the dimple's axis) → Cut-Extrude28 cone 3 (revolve, cut)
    with BuildSketch(Plane(origin=(52, 8, 14), x_dir=(0, 0, 1), z_dir=(1, 0, 0))):
        Polygon((0, 0), (2.5, 0), (0, 1.443375673), align=None)
    revolve(axis=Axis((52, 8, 14), (0, -1, 0)), mode=Mode.SUBTRACT)

    # Cut-Extrude28 cone 4 section (through the dimple's axis) → Cut-Extrude28 cone 4 (revolve, cut)
    with BuildSketch(Plane(origin=(45, 8, 14), x_dir=(0, 0, 1), z_dir=(1, 0, 0))):
        Polygon((0, 0), (2.5, 0), (0, 1.443375673), align=None)
    revolve(axis=Axis((45, 8, 14), (0, -1, 0)), mode=Mode.SUBTRACT)


solid = part.part
